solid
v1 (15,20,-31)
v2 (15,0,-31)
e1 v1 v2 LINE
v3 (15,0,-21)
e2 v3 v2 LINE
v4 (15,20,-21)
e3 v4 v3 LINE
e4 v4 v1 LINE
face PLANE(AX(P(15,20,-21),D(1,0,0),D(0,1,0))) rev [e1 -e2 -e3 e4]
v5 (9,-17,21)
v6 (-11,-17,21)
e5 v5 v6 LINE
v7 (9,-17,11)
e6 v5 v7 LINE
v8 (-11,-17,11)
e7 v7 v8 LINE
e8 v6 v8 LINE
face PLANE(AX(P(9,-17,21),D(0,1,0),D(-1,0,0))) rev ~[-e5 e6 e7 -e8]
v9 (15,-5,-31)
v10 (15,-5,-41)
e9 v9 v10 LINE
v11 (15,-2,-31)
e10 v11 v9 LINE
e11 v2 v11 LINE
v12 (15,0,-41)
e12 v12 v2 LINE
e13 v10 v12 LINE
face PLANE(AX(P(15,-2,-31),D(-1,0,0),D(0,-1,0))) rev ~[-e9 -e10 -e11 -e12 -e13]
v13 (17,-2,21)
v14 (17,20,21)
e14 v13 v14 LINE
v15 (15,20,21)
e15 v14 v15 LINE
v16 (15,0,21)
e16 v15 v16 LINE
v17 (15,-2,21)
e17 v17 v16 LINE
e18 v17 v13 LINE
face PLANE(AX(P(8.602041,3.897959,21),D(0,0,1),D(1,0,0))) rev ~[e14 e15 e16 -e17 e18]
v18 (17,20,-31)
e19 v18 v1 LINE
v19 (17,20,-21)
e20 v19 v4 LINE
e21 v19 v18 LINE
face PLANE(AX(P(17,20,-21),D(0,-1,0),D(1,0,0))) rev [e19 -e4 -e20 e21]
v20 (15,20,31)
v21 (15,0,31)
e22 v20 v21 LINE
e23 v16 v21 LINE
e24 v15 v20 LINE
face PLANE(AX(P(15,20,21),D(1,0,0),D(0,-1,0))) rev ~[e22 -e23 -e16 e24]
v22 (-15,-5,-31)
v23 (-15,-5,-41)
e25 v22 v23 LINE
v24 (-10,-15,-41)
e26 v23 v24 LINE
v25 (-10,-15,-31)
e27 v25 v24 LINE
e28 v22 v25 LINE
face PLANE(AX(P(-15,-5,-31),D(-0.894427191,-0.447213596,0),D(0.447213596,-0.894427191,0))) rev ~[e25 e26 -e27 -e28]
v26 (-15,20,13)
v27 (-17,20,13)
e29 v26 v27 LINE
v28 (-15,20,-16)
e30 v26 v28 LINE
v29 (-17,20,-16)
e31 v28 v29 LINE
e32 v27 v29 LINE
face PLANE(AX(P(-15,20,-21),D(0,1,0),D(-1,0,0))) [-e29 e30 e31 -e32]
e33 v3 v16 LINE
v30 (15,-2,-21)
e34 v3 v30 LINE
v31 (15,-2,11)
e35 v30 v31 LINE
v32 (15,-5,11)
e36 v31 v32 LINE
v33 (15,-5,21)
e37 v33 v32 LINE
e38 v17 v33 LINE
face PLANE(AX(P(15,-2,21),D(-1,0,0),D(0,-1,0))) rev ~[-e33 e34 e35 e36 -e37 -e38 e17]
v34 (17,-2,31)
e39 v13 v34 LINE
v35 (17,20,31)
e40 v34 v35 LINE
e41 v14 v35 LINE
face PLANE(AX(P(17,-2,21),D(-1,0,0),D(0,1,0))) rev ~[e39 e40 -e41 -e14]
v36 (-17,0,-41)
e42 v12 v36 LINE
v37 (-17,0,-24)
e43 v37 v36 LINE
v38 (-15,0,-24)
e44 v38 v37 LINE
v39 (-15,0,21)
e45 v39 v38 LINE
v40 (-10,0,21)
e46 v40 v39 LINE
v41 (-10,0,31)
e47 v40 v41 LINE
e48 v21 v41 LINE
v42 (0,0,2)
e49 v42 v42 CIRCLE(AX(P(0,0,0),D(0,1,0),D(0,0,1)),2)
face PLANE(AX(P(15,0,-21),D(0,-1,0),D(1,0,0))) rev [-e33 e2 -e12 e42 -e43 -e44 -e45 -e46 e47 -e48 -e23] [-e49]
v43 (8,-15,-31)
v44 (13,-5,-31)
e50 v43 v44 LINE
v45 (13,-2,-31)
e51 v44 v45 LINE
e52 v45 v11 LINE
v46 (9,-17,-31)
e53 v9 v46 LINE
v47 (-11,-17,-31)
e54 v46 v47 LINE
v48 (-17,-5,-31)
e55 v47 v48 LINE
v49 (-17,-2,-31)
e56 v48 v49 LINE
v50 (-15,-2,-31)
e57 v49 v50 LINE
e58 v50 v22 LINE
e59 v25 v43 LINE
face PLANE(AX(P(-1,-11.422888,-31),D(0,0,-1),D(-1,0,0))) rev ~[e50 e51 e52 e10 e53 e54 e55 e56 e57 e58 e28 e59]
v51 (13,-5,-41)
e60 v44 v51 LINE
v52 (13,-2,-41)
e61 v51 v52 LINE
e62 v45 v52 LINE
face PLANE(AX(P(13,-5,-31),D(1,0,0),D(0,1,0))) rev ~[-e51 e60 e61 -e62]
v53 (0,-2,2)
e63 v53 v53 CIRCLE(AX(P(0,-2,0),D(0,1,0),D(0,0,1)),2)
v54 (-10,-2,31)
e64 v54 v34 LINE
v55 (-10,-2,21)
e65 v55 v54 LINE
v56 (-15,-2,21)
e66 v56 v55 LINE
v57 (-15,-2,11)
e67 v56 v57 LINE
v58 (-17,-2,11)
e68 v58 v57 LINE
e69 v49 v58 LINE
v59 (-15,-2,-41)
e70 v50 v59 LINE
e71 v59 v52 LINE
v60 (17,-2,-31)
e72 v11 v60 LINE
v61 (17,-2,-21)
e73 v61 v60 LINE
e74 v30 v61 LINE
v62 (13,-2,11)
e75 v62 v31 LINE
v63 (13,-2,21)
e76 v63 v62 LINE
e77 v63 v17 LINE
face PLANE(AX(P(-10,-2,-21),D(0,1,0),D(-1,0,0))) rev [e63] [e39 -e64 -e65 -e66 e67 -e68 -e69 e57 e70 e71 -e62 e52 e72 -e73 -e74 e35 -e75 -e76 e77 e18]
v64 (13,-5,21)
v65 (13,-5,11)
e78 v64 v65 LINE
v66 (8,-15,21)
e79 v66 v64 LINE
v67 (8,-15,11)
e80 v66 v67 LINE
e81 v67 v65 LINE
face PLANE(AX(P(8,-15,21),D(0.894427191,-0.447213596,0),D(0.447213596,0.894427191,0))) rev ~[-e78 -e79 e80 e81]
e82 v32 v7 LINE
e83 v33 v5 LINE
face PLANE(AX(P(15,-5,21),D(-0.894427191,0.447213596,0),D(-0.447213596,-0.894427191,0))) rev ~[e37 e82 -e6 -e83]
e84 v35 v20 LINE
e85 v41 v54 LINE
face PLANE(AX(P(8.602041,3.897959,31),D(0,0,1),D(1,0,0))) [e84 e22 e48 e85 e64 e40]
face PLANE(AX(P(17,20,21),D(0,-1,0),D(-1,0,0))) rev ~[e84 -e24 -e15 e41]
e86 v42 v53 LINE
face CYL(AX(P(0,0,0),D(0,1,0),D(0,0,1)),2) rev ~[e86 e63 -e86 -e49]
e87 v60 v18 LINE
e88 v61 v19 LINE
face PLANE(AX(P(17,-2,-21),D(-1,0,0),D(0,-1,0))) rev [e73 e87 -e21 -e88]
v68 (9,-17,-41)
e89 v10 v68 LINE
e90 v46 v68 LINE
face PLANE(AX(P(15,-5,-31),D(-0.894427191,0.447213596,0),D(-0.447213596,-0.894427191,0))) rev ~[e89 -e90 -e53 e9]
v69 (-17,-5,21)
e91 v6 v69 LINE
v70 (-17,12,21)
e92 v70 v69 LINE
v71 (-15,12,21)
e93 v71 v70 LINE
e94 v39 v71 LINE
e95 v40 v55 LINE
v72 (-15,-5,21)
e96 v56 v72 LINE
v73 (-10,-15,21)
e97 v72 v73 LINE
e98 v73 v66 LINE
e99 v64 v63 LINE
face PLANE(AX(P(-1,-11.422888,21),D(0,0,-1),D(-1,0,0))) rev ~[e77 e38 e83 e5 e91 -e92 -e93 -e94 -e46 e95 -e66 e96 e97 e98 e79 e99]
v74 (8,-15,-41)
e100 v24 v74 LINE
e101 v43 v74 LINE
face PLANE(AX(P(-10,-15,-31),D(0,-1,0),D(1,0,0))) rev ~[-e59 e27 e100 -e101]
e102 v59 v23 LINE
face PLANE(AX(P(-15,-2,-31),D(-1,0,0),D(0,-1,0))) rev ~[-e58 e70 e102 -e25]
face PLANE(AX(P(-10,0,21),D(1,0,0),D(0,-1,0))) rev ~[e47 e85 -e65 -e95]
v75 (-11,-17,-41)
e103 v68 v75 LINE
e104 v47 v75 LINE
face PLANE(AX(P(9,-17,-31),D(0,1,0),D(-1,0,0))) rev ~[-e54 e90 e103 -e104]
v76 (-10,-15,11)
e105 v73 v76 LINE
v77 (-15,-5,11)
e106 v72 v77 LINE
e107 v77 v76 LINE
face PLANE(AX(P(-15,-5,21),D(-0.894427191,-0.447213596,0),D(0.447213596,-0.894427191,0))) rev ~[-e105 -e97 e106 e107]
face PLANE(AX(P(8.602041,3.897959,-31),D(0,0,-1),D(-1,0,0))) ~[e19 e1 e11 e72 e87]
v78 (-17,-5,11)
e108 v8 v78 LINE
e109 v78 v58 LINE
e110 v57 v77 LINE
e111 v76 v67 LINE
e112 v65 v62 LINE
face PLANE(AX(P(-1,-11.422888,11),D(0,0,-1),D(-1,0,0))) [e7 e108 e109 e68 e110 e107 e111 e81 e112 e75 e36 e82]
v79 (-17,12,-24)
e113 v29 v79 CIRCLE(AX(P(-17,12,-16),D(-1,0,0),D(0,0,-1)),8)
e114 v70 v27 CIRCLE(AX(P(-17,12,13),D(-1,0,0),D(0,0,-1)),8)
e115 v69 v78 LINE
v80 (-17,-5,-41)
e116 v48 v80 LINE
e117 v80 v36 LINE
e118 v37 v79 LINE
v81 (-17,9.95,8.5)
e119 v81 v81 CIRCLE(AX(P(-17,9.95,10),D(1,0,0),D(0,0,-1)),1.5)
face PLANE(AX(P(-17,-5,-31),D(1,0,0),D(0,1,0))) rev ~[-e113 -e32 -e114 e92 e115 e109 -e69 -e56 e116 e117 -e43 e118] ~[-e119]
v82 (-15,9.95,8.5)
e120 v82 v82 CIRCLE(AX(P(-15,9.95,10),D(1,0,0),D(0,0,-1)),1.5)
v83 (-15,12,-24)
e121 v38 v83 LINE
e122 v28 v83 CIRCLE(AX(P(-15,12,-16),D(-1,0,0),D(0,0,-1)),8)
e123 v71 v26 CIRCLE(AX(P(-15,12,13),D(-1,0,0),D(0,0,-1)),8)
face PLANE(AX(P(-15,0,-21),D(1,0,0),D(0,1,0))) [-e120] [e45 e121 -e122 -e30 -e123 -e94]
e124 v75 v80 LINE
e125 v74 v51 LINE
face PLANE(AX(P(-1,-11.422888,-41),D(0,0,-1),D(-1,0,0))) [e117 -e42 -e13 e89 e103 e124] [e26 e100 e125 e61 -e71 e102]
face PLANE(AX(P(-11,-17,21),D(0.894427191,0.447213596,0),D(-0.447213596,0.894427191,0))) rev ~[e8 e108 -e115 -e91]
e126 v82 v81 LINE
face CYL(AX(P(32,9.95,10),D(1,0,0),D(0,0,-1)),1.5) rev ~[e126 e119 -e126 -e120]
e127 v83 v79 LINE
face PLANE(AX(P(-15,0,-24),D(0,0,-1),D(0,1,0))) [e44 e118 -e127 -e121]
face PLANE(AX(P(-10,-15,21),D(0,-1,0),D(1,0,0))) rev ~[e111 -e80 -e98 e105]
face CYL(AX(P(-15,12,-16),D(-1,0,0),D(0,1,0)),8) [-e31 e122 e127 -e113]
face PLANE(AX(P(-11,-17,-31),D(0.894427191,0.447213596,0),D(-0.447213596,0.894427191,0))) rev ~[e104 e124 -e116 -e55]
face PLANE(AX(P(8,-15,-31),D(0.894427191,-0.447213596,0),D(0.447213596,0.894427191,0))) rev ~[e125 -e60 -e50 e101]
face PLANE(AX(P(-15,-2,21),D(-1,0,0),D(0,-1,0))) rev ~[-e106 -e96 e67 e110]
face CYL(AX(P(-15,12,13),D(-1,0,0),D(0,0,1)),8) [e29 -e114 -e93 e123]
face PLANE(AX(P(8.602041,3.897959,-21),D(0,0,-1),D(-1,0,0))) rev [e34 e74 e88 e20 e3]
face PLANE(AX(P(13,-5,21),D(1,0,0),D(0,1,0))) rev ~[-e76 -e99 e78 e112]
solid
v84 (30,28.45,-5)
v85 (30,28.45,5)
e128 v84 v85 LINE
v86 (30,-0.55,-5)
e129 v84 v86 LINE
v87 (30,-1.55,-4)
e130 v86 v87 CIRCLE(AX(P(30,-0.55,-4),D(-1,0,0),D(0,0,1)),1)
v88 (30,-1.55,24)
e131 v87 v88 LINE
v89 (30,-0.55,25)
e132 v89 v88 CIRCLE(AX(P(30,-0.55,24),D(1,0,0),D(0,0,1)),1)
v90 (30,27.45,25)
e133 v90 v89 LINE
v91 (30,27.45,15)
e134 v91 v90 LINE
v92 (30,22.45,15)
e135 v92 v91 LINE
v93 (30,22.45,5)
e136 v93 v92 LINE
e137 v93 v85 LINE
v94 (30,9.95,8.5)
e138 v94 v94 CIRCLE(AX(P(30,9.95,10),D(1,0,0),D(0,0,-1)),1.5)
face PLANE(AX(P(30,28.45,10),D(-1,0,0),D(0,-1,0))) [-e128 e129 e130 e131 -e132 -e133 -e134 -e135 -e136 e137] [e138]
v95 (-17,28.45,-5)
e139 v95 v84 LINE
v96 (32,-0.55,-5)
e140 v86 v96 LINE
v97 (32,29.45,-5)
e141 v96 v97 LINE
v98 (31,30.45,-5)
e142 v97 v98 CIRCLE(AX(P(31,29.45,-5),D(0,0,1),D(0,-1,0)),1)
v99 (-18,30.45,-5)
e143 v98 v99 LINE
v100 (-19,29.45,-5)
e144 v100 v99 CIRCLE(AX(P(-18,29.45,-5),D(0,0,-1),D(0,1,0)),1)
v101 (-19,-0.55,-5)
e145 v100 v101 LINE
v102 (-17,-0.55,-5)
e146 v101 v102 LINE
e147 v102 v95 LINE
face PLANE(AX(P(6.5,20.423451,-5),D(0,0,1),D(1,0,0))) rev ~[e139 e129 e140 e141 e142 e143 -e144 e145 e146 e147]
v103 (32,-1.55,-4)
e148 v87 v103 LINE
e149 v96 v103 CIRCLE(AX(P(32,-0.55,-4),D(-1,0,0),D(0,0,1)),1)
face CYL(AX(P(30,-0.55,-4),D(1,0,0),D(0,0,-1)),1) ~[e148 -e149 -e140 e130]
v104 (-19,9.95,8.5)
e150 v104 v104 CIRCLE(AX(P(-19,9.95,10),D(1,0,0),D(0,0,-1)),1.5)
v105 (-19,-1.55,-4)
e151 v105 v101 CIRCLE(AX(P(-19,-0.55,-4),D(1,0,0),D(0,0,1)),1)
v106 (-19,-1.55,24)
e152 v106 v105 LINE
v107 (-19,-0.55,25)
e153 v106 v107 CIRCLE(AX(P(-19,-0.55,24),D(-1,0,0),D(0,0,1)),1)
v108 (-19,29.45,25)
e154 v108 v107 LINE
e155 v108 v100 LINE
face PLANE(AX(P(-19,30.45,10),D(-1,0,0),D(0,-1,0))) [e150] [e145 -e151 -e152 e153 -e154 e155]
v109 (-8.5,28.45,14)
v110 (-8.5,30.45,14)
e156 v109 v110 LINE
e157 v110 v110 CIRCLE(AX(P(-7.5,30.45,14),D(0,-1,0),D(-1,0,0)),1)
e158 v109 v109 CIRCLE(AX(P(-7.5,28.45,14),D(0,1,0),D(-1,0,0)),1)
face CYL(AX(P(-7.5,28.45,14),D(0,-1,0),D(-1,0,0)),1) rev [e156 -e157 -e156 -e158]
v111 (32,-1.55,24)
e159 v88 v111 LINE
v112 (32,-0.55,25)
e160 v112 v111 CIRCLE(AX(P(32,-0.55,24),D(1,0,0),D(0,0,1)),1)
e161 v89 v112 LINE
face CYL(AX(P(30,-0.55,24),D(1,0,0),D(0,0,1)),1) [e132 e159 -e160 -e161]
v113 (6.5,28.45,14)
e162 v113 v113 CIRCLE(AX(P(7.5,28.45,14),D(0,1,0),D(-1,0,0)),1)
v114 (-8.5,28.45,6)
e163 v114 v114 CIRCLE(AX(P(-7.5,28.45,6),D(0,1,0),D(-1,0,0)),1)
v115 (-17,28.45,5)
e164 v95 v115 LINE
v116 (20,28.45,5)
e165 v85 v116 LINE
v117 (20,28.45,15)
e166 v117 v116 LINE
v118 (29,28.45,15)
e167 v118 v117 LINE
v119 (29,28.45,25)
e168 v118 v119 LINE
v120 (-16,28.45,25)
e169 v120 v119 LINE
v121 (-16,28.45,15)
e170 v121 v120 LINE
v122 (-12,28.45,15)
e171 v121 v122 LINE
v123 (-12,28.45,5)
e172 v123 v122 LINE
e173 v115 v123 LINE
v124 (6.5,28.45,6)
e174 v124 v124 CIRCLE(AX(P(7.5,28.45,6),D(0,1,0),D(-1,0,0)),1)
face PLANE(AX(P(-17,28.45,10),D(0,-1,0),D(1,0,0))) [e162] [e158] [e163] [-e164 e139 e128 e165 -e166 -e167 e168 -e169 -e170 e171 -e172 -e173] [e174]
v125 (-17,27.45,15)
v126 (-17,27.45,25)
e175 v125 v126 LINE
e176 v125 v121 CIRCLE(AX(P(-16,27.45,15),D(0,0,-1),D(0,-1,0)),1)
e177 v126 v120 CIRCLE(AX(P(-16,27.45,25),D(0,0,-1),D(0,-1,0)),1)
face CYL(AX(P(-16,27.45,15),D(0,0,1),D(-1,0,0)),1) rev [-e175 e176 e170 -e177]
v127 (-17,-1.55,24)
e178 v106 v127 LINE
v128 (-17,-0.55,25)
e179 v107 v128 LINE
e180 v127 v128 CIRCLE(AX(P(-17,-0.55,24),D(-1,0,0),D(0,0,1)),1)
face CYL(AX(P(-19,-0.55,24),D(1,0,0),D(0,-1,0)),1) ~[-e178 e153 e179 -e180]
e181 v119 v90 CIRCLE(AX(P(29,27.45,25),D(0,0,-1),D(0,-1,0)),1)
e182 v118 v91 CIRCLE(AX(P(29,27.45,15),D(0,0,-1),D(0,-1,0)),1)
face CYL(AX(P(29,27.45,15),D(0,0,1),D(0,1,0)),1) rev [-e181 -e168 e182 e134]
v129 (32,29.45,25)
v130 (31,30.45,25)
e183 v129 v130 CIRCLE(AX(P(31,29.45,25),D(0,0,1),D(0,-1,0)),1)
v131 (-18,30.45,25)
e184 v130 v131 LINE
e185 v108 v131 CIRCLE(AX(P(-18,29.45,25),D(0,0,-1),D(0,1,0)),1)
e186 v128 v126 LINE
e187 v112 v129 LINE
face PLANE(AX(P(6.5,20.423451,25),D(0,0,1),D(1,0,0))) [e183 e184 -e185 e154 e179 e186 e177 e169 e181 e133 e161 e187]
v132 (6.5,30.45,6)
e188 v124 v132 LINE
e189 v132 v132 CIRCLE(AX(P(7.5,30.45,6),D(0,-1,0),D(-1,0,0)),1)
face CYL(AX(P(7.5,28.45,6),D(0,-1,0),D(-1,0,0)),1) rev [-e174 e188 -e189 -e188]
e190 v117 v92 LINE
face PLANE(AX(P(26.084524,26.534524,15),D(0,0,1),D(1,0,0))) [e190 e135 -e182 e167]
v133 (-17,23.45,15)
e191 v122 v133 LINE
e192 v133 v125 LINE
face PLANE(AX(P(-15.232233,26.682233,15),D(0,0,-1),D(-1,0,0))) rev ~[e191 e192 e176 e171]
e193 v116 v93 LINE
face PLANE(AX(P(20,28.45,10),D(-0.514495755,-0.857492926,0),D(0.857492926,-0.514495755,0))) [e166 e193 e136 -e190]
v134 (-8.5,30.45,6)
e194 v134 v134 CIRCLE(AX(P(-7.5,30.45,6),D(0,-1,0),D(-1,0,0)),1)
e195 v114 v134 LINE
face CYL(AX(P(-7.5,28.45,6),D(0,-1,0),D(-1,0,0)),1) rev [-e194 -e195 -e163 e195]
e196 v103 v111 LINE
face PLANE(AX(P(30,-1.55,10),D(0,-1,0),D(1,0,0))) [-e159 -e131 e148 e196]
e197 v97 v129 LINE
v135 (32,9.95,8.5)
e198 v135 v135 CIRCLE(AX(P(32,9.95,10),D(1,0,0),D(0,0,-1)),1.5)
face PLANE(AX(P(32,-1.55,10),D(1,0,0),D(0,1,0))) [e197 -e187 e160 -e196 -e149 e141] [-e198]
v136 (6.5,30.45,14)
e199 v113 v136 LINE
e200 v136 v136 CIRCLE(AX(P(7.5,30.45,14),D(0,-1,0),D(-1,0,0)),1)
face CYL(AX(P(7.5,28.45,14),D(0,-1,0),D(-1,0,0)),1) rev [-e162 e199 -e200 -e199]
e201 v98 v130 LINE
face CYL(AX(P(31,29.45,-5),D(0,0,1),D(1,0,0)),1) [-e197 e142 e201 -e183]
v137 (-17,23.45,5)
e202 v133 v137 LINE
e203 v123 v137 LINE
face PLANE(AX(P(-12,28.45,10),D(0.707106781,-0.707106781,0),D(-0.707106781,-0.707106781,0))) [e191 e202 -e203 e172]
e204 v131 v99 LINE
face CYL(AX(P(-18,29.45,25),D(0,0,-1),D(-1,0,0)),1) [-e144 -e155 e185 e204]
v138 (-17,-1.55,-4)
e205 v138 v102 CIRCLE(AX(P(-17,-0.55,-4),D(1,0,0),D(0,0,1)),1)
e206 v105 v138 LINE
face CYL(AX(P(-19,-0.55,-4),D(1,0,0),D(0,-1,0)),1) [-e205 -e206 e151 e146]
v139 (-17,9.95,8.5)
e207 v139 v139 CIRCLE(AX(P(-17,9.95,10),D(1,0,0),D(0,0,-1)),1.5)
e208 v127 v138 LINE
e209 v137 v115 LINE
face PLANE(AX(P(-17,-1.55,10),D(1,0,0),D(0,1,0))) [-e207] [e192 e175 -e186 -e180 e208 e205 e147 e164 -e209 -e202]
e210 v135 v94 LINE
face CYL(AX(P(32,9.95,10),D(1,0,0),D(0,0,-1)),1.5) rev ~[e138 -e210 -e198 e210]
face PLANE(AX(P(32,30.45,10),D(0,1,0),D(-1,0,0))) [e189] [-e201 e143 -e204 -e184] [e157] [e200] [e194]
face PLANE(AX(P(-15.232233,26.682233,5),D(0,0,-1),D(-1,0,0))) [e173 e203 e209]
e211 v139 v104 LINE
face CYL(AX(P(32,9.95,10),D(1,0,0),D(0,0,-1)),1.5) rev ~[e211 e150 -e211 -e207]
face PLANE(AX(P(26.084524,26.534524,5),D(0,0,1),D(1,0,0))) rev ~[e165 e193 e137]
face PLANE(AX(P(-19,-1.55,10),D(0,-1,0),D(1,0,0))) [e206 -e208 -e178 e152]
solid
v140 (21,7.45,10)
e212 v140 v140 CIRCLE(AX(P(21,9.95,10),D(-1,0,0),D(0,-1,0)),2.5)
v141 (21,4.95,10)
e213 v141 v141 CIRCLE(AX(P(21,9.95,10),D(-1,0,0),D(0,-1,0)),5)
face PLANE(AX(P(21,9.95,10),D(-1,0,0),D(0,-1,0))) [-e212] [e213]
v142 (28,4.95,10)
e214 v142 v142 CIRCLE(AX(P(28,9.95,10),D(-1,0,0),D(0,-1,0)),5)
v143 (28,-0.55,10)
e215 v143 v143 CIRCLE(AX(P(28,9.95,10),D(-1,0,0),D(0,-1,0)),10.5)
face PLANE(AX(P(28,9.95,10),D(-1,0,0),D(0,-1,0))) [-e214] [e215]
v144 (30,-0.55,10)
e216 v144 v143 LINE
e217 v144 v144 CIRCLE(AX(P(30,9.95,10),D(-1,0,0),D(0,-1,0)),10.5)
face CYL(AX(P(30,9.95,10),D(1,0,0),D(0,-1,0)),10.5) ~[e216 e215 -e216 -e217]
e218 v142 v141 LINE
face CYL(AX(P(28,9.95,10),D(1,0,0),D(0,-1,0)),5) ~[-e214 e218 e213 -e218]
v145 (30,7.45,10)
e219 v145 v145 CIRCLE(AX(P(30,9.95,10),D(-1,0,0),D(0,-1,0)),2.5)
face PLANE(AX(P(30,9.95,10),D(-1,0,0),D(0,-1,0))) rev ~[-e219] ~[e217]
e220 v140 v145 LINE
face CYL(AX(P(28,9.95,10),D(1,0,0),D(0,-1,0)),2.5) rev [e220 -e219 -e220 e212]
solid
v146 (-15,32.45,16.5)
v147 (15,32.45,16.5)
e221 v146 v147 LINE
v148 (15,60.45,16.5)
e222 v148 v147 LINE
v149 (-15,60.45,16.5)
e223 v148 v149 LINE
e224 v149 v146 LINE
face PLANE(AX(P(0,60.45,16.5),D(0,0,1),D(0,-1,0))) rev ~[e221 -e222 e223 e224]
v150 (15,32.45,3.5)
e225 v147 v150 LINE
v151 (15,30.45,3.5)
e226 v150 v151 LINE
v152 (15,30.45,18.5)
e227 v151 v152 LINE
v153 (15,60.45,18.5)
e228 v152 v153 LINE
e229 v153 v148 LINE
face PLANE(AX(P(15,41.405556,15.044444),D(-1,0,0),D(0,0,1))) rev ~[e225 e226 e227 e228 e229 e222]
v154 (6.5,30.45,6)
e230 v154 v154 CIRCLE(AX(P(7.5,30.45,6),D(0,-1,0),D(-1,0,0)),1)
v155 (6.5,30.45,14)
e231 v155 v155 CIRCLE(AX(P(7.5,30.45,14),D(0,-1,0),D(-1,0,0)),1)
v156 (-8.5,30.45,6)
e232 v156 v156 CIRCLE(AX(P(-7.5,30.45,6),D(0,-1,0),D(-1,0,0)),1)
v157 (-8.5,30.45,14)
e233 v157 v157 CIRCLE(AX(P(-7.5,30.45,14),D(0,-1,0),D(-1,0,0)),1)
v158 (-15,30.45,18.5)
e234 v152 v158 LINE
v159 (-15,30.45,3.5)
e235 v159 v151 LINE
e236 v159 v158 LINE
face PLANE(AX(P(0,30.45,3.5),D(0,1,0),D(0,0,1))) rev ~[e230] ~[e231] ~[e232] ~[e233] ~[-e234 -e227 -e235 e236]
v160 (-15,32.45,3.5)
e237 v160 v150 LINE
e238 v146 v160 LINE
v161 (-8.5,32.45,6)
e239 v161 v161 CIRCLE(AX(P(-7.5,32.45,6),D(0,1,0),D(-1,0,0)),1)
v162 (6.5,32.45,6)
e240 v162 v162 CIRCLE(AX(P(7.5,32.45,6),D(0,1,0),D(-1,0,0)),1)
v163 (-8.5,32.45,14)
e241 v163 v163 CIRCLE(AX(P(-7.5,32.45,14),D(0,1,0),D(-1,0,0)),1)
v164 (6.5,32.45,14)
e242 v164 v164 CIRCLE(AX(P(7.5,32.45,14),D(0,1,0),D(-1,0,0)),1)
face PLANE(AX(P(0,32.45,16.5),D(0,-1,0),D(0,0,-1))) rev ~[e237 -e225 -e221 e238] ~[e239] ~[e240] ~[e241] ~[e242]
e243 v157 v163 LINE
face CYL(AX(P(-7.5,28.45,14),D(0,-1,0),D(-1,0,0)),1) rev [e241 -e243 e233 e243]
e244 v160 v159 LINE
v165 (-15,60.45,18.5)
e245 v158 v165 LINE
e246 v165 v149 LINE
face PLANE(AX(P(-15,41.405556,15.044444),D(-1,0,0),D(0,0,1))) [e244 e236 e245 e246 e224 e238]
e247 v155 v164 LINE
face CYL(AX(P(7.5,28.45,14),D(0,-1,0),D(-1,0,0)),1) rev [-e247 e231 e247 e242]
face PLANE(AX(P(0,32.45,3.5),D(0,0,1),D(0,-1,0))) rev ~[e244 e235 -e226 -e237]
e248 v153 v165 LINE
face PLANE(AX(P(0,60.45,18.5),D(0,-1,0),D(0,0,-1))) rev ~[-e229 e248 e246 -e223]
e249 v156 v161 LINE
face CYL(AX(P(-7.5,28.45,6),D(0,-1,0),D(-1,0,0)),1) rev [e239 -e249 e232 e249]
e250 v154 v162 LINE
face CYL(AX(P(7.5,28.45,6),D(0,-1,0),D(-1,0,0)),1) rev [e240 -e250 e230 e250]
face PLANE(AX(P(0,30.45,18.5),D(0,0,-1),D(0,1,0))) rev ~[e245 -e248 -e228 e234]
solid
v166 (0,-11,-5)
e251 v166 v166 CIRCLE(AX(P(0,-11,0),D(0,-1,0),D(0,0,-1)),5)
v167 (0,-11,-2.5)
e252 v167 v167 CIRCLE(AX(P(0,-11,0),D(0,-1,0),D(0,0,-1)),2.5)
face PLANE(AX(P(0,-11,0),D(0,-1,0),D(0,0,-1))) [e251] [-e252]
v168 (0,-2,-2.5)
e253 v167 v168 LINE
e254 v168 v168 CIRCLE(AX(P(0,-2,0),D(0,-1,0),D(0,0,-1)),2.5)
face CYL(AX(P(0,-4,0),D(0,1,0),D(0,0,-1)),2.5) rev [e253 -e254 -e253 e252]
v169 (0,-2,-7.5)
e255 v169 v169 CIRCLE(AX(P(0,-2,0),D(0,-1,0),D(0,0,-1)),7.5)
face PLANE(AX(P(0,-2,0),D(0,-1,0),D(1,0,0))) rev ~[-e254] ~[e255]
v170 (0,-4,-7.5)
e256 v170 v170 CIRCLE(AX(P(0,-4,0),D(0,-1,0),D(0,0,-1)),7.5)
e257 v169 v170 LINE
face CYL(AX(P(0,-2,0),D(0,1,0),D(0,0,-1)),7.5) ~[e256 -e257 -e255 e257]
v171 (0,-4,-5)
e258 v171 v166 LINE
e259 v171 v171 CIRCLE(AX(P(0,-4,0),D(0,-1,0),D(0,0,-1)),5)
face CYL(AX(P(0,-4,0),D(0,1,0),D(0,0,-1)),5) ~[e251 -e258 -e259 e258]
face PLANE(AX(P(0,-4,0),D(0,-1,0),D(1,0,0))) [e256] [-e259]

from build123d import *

# Parameters (mm, degrees)
BOSS_EXTRUDE1_DEPTH  = 21
BOSS_EXTRUDE16_START = -21
BOSS_EXTRUDE16_DEPTH = 20
CUT_EXTRUDE4_REACH   = 56.599
SKETCH23_W           = 17
SKETCH23_H           = 20
FILLET1_R            = 8
BOSS_EXTRUDE5_DEPTH  = 10
BOSS_EXTRUDE14_START = -10
BOSS_EXTRUDE14_DEPTH = 10
BOSS_EXTRUDE15_START = -62
BOSS_EXTRUDE15_DEPTH = 10
CUT_EXTRUDE1_REACH   = 50.683
SKETCH5_R            = 2
BOSS_EXTRUDE2_START  = 10
BOSS_EXTRUDE2_DEPTH  = 15
BOSS_EXTRUDE17_DEPTH = 5
SKETCH7_R            = 1.5
CUT_EXTRUDE2_DEPTH   = 73.174805161
SKETCH8_R            = 7.5
SKETCH8_R_2          = 5
SKETCH8_R_3          = 2.5
BOSS_EXTRUDE3_DEPTH  = 2
SKETCH16_R           = 5
SKETCH16_R_2         = 2.5
BOSS_EXTRUDE7_DEPTH  = 7
SKETCH17_R           = 10.5
SKETCH17_R_2         = 2.5
BOSS_EXTRUDE8_DEPTH  = 2
SKETCH18_R           = 5
SKETCH18_R_2         = 2.5
BOSS_EXTRUDE9_DEPTH  = 7
BOSS_EXTRUDE6_DEPTH  = 15
CUT_EXTRUDE3_START   = -4
SKETCH19_R           = 1
CUT_EXTRUDE3_DEPTH   = 4
FILLET2_R            = 1


with BuildPart() as part:
    # Sketch4 → Boss-Extrude1 (new, symmetric)
    with BuildSketch(Plane.XY):
        Polygon((-17, 20), (-17, -2), (15, -2), (15, 0), (-15, 0), (-15, 20), align=None)
    extrude(amount=BOSS_EXTRUDE1_DEPTH, both=True)

    # Sketch4<2> → Boss-Extrude16 (add)
    with BuildSketch(Plane.XY.offset(BOSS_EXTRUDE16_START)):
        Polygon((-17, 20), (-17, -2), (15, -2), (15, 0), (-15, 0), (-15, 20), align=None)
    extrude(amount=-BOSS_EXTRUDE16_DEPTH)

    # Sketch23 → Cut-Extrude4 (cut, up to next)
    with BuildSketch(Plane(origin=(-15, 0, 0), x_dir=(0, 0, -1), z_dir=(1, 0, 0)), mode=Mode.PRIVATE) as cut_extrude4_sk1:
        with Locations((32.5, 10)):
            Rectangle(SKETCH23_W, SKETCH23_H)
    cut_extrude4_tool1 = extrude(cut_extrude4_sk1.sketch, amount=-CUT_EXTRUDE4_REACH, mode=Mode.PRIVATE) & part.part
    add(cut_extrude4_tool1.solids().sort_by_distance((-15, 10, -32.5))[0], mode=Mode.SUBTRACT)

    # Fillet1
    fillet1_edges = [part.edges().sort_by_distance(p)[0] for p in [
        (-16, 20, -24),
        (-16, 20, 21),
    ]]
    fillet(fillet1_edges, radius=FILLET1_R)

    # Sketch11 → Boss-Extrude5 (add)
    with BuildSketch(Plane.XY.offset(21)):
        Polygon((-10, 0), (-10, -2), (17, -2), (17, 20), (15, 20), (15, 0), align=None)
    boss_extrude5 = extrude(amount=BOSS_EXTRUDE5_DEPTH)

    # Mirror1: Boss-Extrude5 across plane
    add(boss_extrude5.mirror(Plane.XY))

    # Sketch21 → Boss-Extrude14 (add)
    with BuildSketch(Plane.XY.offset(31).offset(BOSS_EXTRUDE14_START)):
        Polygon((15, -2), (15, -5), (9, -17), (-11, -17), (-17, -5), (-17, -2), (-15, -2), (-15, -5), (-10, -15), (8, -15), (13, -5), (13, -2), align=None)
    extrude(amount=-BOSS_EXTRUDE14_DEPTH)

    # Sketch21<3> → Boss-Extrude15 (add)
    with BuildSketch(Plane.XY.offset(31).offset(BOSS_EXTRUDE15_START)):
        Polygon((15, -2), (15, -5), (9, -17), (-11, -17), (-17, -5), (-17, -2), (-15, -2), (-15, -5), (-10, -15), (8, -15), (13, -5), (13, -2), align=None)
    extrude(amount=-BOSS_EXTRUDE15_DEPTH)

    # Sketch5 → Cut-Extrude1 (cut, up to next)
    with BuildSketch(Plane(origin=(0, 0, 0), x_dir=(1, 0, 0), z_dir=(0, 1, 0)), mode=Mode.PRIVATE) as cut_extrude1_sk1:
        with Locations(Location((0, 0, 0), (0, 0, 270))):
            Circle(SKETCH5_R)
    cut_extrude1_tool1 = extrude(cut_extrude1_sk1.sketch, amount=-CUT_EXTRUDE1_REACH, mode=Mode.PRIVATE) & part.part
    add(cut_extrude1_tool1.solids().sort_by_distance((0, 0, 0))[0], mode=Mode.SUBTRACT)


with BuildPart() as body_2:
    # Sketch6 → Boss-Extrude2 (new, symmetric)
    with BuildSketch(Plane.XY.offset(BOSS_EXTRUDE2_START)):
        Polygon((-17, -1.55), (-17, 28.45), (30, 28.45), (30, -1.55), (32, -1.55), (32, 30.45), (-19, 30.45), (-19, -1.55), align=None)
    extrude(amount=BOSS_EXTRUDE2_DEPTH, both=True)

    # Sketch24 → Boss-Extrude17 (add, symmetric)
    with BuildSketch(Plane(origin=(0, 0, 10), x_dir=(-1, 0, 0), z_dir=(0, 0, -1))):
        Polygon((-20, 28.45), (-30, 22.45), (-30, 28.45), align=None)
        Polygon((12, 28.45), (17, 23.45), (17, 28.45), align=None)
    extrude(amount=BOSS_EXTRUDE17_DEPTH, both=True)


with BuildPart() as cut_extrude2_tool:
    # Sketch7 → Cut-Extrude2 (new, through all)
    with BuildSketch(Plane(origin=(32, 0, 0), x_dir=(0, 0, -1), z_dir=(1, 0, 0))):
        with Locations((-10, 9.95)):
            Circle(SKETCH7_R)
    extrude(amount=-CUT_EXTRUDE2_DEPTH)


with BuildPart() as part_1:
    add(part.part)

    # Cut-Extrude2: cut by cut_extrude2_tool
    add(cut_extrude2_tool.part, mode=Mode.SUBTRACT)


with BuildPart() as body_2_1:
    add(body_2.part)

    # Cut-Extrude2: cut by cut_extrude2_tool
    add(cut_extrude2_tool.part, mode=Mode.SUBTRACT)


with BuildPart() as body_3:
    # Sketch8 → Boss-Extrude3 (new body)
    # profile 1 of 2: a face of its own
    with BuildSketch(Plane.XZ.offset(2)):
        with Locations(Location((0, 0, 0), (0, 0, 270))):
            Circle(SKETCH8_R)
        Circle(SKETCH8_R_2, mode=Mode.SUBTRACT)
    # profile 2 of 2: a face of its own
    with BuildSketch(Plane.XZ.offset(2)):
        Circle(SKETCH8_R_2)
        with Locations(Location((0, 0, 0), (0, 0, 270))):
            Circle(SKETCH8_R_3, mode=Mode.SUBTRACT)
    extrude(amount=BOSS_EXTRUDE3_DEPTH)

    # Sketch16 → Boss-Extrude7 (add)
    with BuildSketch(Plane.XZ.offset(4)):
        with Locations(Location((0, 0, 0), (0, 0, 270))):
            Circle(SKETCH16_R)
        with Locations(Location((0, 0, 0), (0, 0, 270))):
            Circle(SKETCH16_R_2, mode=Mode.SUBTRACT)
    extrude(amount=BOSS_EXTRUDE7_DEPTH)


with BuildPart() as body_4:
    # Sketch17 → Boss-Extrude8 (new body)
    with BuildSketch(Plane(origin=(30, 0, 0), x_dir=(0, 0, -1), z_dir=(-1, 0, 0))):
        with Locations(Location((-10, -9.95, 0), (0, 0, 90))):
            Circle(SKETCH17_R)
        with Locations(Location((-10, -9.95, 0), (0, 0, 90))):
            Circle(SKETCH17_R_2, mode=Mode.SUBTRACT)
    extrude(amount=BOSS_EXTRUDE8_DEPTH)

    # Sketch18 → Boss-Extrude9 (add)
    with BuildSketch(Plane.ZY.offset(-28)):
        with Locations(Location((10, 9.95, 0), (0, 0, 270))):
            Circle(SKETCH18_R)
        with Locations(Location((10, 9.95, 0), (0, 0, 270))):
            Circle(SKETCH18_R_2, mode=Mode.SUBTRACT)
    extrude(amount=BOSS_EXTRUDE9_DEPTH)


with BuildPart() as body_5:
    # Sketch14 → Boss-Extrude6 (new, symmetric)
    with BuildSketch(Plane(origin=(0, 0, 0), x_dir=(0, 0, -1), z_dir=(1, 0, 0))):
        Polygon((-3.5, 30.45), (-18.5, 30.45), (-18.5, 60.45), (-16.5, 60.45), (-16.5, 32.45), (-3.5, 32.45), align=None)
    extrude(amount=BOSS_EXTRUDE6_DEPTH, both=True)


with BuildPart() as cut_extrude3_tool:
    # Sketch19 → Cut-Extrude3 (new body)
    with BuildSketch(Plane(origin=(0, 32.45, 0), x_dir=(1, 0, 0), z_dir=(0, 1, 0)).offset(CUT_EXTRUDE3_START)):
        with Locations(Location((-7.5, -6, 0), (0, 0, 180))):
            Circle(SKETCH19_R)
        with Locations(Location((7.5, -6, 0), (0, 0, 180))):
            Circle(SKETCH19_R)
        with Locations(Location((7.5, -14, 0), (0, 0, 180))):
            Circle(SKETCH19_R)
        with Locations(Location((-7.5, -14, 0), (0, 0, 180))):
            Circle(SKETCH19_R)
    extrude(amount=CUT_EXTRUDE3_DEPTH)


with BuildPart() as body_2_2:
    add(body_2_1.part)

    # Cut-Extrude3: cut by cut_extrude3_tool
    add(cut_extrude3_tool.part, mode=Mode.SUBTRACT)

    # Fillet2
    fillet2_edges = [body_2_2.edges().sort_by_distance(p)[0] for p in [
        (-18, -1.55, -5),
        (-19, 30.45, 10),
        (32, 30.45, 10),
        (30, 28.45, 20),
        (-17, 28.45, 20),
        (31, -1.55, 25),
        (-18, -1.55, 25),
        (31, -1.55, -5),
    ]]
    fillet(fillet2_edges, radius=FILLET2_R)


with BuildPart() as body_5_1:
    add(body_5.part)

    # Cut-Extrude3: cut by cut_extrude3_tool
    add(cut_extrude3_tool.part, mode=Mode.SUBTRACT)


solid = Compound([part_1.part, body_3.part, body_4.part, body_2_2.part, body_5_1.part])
